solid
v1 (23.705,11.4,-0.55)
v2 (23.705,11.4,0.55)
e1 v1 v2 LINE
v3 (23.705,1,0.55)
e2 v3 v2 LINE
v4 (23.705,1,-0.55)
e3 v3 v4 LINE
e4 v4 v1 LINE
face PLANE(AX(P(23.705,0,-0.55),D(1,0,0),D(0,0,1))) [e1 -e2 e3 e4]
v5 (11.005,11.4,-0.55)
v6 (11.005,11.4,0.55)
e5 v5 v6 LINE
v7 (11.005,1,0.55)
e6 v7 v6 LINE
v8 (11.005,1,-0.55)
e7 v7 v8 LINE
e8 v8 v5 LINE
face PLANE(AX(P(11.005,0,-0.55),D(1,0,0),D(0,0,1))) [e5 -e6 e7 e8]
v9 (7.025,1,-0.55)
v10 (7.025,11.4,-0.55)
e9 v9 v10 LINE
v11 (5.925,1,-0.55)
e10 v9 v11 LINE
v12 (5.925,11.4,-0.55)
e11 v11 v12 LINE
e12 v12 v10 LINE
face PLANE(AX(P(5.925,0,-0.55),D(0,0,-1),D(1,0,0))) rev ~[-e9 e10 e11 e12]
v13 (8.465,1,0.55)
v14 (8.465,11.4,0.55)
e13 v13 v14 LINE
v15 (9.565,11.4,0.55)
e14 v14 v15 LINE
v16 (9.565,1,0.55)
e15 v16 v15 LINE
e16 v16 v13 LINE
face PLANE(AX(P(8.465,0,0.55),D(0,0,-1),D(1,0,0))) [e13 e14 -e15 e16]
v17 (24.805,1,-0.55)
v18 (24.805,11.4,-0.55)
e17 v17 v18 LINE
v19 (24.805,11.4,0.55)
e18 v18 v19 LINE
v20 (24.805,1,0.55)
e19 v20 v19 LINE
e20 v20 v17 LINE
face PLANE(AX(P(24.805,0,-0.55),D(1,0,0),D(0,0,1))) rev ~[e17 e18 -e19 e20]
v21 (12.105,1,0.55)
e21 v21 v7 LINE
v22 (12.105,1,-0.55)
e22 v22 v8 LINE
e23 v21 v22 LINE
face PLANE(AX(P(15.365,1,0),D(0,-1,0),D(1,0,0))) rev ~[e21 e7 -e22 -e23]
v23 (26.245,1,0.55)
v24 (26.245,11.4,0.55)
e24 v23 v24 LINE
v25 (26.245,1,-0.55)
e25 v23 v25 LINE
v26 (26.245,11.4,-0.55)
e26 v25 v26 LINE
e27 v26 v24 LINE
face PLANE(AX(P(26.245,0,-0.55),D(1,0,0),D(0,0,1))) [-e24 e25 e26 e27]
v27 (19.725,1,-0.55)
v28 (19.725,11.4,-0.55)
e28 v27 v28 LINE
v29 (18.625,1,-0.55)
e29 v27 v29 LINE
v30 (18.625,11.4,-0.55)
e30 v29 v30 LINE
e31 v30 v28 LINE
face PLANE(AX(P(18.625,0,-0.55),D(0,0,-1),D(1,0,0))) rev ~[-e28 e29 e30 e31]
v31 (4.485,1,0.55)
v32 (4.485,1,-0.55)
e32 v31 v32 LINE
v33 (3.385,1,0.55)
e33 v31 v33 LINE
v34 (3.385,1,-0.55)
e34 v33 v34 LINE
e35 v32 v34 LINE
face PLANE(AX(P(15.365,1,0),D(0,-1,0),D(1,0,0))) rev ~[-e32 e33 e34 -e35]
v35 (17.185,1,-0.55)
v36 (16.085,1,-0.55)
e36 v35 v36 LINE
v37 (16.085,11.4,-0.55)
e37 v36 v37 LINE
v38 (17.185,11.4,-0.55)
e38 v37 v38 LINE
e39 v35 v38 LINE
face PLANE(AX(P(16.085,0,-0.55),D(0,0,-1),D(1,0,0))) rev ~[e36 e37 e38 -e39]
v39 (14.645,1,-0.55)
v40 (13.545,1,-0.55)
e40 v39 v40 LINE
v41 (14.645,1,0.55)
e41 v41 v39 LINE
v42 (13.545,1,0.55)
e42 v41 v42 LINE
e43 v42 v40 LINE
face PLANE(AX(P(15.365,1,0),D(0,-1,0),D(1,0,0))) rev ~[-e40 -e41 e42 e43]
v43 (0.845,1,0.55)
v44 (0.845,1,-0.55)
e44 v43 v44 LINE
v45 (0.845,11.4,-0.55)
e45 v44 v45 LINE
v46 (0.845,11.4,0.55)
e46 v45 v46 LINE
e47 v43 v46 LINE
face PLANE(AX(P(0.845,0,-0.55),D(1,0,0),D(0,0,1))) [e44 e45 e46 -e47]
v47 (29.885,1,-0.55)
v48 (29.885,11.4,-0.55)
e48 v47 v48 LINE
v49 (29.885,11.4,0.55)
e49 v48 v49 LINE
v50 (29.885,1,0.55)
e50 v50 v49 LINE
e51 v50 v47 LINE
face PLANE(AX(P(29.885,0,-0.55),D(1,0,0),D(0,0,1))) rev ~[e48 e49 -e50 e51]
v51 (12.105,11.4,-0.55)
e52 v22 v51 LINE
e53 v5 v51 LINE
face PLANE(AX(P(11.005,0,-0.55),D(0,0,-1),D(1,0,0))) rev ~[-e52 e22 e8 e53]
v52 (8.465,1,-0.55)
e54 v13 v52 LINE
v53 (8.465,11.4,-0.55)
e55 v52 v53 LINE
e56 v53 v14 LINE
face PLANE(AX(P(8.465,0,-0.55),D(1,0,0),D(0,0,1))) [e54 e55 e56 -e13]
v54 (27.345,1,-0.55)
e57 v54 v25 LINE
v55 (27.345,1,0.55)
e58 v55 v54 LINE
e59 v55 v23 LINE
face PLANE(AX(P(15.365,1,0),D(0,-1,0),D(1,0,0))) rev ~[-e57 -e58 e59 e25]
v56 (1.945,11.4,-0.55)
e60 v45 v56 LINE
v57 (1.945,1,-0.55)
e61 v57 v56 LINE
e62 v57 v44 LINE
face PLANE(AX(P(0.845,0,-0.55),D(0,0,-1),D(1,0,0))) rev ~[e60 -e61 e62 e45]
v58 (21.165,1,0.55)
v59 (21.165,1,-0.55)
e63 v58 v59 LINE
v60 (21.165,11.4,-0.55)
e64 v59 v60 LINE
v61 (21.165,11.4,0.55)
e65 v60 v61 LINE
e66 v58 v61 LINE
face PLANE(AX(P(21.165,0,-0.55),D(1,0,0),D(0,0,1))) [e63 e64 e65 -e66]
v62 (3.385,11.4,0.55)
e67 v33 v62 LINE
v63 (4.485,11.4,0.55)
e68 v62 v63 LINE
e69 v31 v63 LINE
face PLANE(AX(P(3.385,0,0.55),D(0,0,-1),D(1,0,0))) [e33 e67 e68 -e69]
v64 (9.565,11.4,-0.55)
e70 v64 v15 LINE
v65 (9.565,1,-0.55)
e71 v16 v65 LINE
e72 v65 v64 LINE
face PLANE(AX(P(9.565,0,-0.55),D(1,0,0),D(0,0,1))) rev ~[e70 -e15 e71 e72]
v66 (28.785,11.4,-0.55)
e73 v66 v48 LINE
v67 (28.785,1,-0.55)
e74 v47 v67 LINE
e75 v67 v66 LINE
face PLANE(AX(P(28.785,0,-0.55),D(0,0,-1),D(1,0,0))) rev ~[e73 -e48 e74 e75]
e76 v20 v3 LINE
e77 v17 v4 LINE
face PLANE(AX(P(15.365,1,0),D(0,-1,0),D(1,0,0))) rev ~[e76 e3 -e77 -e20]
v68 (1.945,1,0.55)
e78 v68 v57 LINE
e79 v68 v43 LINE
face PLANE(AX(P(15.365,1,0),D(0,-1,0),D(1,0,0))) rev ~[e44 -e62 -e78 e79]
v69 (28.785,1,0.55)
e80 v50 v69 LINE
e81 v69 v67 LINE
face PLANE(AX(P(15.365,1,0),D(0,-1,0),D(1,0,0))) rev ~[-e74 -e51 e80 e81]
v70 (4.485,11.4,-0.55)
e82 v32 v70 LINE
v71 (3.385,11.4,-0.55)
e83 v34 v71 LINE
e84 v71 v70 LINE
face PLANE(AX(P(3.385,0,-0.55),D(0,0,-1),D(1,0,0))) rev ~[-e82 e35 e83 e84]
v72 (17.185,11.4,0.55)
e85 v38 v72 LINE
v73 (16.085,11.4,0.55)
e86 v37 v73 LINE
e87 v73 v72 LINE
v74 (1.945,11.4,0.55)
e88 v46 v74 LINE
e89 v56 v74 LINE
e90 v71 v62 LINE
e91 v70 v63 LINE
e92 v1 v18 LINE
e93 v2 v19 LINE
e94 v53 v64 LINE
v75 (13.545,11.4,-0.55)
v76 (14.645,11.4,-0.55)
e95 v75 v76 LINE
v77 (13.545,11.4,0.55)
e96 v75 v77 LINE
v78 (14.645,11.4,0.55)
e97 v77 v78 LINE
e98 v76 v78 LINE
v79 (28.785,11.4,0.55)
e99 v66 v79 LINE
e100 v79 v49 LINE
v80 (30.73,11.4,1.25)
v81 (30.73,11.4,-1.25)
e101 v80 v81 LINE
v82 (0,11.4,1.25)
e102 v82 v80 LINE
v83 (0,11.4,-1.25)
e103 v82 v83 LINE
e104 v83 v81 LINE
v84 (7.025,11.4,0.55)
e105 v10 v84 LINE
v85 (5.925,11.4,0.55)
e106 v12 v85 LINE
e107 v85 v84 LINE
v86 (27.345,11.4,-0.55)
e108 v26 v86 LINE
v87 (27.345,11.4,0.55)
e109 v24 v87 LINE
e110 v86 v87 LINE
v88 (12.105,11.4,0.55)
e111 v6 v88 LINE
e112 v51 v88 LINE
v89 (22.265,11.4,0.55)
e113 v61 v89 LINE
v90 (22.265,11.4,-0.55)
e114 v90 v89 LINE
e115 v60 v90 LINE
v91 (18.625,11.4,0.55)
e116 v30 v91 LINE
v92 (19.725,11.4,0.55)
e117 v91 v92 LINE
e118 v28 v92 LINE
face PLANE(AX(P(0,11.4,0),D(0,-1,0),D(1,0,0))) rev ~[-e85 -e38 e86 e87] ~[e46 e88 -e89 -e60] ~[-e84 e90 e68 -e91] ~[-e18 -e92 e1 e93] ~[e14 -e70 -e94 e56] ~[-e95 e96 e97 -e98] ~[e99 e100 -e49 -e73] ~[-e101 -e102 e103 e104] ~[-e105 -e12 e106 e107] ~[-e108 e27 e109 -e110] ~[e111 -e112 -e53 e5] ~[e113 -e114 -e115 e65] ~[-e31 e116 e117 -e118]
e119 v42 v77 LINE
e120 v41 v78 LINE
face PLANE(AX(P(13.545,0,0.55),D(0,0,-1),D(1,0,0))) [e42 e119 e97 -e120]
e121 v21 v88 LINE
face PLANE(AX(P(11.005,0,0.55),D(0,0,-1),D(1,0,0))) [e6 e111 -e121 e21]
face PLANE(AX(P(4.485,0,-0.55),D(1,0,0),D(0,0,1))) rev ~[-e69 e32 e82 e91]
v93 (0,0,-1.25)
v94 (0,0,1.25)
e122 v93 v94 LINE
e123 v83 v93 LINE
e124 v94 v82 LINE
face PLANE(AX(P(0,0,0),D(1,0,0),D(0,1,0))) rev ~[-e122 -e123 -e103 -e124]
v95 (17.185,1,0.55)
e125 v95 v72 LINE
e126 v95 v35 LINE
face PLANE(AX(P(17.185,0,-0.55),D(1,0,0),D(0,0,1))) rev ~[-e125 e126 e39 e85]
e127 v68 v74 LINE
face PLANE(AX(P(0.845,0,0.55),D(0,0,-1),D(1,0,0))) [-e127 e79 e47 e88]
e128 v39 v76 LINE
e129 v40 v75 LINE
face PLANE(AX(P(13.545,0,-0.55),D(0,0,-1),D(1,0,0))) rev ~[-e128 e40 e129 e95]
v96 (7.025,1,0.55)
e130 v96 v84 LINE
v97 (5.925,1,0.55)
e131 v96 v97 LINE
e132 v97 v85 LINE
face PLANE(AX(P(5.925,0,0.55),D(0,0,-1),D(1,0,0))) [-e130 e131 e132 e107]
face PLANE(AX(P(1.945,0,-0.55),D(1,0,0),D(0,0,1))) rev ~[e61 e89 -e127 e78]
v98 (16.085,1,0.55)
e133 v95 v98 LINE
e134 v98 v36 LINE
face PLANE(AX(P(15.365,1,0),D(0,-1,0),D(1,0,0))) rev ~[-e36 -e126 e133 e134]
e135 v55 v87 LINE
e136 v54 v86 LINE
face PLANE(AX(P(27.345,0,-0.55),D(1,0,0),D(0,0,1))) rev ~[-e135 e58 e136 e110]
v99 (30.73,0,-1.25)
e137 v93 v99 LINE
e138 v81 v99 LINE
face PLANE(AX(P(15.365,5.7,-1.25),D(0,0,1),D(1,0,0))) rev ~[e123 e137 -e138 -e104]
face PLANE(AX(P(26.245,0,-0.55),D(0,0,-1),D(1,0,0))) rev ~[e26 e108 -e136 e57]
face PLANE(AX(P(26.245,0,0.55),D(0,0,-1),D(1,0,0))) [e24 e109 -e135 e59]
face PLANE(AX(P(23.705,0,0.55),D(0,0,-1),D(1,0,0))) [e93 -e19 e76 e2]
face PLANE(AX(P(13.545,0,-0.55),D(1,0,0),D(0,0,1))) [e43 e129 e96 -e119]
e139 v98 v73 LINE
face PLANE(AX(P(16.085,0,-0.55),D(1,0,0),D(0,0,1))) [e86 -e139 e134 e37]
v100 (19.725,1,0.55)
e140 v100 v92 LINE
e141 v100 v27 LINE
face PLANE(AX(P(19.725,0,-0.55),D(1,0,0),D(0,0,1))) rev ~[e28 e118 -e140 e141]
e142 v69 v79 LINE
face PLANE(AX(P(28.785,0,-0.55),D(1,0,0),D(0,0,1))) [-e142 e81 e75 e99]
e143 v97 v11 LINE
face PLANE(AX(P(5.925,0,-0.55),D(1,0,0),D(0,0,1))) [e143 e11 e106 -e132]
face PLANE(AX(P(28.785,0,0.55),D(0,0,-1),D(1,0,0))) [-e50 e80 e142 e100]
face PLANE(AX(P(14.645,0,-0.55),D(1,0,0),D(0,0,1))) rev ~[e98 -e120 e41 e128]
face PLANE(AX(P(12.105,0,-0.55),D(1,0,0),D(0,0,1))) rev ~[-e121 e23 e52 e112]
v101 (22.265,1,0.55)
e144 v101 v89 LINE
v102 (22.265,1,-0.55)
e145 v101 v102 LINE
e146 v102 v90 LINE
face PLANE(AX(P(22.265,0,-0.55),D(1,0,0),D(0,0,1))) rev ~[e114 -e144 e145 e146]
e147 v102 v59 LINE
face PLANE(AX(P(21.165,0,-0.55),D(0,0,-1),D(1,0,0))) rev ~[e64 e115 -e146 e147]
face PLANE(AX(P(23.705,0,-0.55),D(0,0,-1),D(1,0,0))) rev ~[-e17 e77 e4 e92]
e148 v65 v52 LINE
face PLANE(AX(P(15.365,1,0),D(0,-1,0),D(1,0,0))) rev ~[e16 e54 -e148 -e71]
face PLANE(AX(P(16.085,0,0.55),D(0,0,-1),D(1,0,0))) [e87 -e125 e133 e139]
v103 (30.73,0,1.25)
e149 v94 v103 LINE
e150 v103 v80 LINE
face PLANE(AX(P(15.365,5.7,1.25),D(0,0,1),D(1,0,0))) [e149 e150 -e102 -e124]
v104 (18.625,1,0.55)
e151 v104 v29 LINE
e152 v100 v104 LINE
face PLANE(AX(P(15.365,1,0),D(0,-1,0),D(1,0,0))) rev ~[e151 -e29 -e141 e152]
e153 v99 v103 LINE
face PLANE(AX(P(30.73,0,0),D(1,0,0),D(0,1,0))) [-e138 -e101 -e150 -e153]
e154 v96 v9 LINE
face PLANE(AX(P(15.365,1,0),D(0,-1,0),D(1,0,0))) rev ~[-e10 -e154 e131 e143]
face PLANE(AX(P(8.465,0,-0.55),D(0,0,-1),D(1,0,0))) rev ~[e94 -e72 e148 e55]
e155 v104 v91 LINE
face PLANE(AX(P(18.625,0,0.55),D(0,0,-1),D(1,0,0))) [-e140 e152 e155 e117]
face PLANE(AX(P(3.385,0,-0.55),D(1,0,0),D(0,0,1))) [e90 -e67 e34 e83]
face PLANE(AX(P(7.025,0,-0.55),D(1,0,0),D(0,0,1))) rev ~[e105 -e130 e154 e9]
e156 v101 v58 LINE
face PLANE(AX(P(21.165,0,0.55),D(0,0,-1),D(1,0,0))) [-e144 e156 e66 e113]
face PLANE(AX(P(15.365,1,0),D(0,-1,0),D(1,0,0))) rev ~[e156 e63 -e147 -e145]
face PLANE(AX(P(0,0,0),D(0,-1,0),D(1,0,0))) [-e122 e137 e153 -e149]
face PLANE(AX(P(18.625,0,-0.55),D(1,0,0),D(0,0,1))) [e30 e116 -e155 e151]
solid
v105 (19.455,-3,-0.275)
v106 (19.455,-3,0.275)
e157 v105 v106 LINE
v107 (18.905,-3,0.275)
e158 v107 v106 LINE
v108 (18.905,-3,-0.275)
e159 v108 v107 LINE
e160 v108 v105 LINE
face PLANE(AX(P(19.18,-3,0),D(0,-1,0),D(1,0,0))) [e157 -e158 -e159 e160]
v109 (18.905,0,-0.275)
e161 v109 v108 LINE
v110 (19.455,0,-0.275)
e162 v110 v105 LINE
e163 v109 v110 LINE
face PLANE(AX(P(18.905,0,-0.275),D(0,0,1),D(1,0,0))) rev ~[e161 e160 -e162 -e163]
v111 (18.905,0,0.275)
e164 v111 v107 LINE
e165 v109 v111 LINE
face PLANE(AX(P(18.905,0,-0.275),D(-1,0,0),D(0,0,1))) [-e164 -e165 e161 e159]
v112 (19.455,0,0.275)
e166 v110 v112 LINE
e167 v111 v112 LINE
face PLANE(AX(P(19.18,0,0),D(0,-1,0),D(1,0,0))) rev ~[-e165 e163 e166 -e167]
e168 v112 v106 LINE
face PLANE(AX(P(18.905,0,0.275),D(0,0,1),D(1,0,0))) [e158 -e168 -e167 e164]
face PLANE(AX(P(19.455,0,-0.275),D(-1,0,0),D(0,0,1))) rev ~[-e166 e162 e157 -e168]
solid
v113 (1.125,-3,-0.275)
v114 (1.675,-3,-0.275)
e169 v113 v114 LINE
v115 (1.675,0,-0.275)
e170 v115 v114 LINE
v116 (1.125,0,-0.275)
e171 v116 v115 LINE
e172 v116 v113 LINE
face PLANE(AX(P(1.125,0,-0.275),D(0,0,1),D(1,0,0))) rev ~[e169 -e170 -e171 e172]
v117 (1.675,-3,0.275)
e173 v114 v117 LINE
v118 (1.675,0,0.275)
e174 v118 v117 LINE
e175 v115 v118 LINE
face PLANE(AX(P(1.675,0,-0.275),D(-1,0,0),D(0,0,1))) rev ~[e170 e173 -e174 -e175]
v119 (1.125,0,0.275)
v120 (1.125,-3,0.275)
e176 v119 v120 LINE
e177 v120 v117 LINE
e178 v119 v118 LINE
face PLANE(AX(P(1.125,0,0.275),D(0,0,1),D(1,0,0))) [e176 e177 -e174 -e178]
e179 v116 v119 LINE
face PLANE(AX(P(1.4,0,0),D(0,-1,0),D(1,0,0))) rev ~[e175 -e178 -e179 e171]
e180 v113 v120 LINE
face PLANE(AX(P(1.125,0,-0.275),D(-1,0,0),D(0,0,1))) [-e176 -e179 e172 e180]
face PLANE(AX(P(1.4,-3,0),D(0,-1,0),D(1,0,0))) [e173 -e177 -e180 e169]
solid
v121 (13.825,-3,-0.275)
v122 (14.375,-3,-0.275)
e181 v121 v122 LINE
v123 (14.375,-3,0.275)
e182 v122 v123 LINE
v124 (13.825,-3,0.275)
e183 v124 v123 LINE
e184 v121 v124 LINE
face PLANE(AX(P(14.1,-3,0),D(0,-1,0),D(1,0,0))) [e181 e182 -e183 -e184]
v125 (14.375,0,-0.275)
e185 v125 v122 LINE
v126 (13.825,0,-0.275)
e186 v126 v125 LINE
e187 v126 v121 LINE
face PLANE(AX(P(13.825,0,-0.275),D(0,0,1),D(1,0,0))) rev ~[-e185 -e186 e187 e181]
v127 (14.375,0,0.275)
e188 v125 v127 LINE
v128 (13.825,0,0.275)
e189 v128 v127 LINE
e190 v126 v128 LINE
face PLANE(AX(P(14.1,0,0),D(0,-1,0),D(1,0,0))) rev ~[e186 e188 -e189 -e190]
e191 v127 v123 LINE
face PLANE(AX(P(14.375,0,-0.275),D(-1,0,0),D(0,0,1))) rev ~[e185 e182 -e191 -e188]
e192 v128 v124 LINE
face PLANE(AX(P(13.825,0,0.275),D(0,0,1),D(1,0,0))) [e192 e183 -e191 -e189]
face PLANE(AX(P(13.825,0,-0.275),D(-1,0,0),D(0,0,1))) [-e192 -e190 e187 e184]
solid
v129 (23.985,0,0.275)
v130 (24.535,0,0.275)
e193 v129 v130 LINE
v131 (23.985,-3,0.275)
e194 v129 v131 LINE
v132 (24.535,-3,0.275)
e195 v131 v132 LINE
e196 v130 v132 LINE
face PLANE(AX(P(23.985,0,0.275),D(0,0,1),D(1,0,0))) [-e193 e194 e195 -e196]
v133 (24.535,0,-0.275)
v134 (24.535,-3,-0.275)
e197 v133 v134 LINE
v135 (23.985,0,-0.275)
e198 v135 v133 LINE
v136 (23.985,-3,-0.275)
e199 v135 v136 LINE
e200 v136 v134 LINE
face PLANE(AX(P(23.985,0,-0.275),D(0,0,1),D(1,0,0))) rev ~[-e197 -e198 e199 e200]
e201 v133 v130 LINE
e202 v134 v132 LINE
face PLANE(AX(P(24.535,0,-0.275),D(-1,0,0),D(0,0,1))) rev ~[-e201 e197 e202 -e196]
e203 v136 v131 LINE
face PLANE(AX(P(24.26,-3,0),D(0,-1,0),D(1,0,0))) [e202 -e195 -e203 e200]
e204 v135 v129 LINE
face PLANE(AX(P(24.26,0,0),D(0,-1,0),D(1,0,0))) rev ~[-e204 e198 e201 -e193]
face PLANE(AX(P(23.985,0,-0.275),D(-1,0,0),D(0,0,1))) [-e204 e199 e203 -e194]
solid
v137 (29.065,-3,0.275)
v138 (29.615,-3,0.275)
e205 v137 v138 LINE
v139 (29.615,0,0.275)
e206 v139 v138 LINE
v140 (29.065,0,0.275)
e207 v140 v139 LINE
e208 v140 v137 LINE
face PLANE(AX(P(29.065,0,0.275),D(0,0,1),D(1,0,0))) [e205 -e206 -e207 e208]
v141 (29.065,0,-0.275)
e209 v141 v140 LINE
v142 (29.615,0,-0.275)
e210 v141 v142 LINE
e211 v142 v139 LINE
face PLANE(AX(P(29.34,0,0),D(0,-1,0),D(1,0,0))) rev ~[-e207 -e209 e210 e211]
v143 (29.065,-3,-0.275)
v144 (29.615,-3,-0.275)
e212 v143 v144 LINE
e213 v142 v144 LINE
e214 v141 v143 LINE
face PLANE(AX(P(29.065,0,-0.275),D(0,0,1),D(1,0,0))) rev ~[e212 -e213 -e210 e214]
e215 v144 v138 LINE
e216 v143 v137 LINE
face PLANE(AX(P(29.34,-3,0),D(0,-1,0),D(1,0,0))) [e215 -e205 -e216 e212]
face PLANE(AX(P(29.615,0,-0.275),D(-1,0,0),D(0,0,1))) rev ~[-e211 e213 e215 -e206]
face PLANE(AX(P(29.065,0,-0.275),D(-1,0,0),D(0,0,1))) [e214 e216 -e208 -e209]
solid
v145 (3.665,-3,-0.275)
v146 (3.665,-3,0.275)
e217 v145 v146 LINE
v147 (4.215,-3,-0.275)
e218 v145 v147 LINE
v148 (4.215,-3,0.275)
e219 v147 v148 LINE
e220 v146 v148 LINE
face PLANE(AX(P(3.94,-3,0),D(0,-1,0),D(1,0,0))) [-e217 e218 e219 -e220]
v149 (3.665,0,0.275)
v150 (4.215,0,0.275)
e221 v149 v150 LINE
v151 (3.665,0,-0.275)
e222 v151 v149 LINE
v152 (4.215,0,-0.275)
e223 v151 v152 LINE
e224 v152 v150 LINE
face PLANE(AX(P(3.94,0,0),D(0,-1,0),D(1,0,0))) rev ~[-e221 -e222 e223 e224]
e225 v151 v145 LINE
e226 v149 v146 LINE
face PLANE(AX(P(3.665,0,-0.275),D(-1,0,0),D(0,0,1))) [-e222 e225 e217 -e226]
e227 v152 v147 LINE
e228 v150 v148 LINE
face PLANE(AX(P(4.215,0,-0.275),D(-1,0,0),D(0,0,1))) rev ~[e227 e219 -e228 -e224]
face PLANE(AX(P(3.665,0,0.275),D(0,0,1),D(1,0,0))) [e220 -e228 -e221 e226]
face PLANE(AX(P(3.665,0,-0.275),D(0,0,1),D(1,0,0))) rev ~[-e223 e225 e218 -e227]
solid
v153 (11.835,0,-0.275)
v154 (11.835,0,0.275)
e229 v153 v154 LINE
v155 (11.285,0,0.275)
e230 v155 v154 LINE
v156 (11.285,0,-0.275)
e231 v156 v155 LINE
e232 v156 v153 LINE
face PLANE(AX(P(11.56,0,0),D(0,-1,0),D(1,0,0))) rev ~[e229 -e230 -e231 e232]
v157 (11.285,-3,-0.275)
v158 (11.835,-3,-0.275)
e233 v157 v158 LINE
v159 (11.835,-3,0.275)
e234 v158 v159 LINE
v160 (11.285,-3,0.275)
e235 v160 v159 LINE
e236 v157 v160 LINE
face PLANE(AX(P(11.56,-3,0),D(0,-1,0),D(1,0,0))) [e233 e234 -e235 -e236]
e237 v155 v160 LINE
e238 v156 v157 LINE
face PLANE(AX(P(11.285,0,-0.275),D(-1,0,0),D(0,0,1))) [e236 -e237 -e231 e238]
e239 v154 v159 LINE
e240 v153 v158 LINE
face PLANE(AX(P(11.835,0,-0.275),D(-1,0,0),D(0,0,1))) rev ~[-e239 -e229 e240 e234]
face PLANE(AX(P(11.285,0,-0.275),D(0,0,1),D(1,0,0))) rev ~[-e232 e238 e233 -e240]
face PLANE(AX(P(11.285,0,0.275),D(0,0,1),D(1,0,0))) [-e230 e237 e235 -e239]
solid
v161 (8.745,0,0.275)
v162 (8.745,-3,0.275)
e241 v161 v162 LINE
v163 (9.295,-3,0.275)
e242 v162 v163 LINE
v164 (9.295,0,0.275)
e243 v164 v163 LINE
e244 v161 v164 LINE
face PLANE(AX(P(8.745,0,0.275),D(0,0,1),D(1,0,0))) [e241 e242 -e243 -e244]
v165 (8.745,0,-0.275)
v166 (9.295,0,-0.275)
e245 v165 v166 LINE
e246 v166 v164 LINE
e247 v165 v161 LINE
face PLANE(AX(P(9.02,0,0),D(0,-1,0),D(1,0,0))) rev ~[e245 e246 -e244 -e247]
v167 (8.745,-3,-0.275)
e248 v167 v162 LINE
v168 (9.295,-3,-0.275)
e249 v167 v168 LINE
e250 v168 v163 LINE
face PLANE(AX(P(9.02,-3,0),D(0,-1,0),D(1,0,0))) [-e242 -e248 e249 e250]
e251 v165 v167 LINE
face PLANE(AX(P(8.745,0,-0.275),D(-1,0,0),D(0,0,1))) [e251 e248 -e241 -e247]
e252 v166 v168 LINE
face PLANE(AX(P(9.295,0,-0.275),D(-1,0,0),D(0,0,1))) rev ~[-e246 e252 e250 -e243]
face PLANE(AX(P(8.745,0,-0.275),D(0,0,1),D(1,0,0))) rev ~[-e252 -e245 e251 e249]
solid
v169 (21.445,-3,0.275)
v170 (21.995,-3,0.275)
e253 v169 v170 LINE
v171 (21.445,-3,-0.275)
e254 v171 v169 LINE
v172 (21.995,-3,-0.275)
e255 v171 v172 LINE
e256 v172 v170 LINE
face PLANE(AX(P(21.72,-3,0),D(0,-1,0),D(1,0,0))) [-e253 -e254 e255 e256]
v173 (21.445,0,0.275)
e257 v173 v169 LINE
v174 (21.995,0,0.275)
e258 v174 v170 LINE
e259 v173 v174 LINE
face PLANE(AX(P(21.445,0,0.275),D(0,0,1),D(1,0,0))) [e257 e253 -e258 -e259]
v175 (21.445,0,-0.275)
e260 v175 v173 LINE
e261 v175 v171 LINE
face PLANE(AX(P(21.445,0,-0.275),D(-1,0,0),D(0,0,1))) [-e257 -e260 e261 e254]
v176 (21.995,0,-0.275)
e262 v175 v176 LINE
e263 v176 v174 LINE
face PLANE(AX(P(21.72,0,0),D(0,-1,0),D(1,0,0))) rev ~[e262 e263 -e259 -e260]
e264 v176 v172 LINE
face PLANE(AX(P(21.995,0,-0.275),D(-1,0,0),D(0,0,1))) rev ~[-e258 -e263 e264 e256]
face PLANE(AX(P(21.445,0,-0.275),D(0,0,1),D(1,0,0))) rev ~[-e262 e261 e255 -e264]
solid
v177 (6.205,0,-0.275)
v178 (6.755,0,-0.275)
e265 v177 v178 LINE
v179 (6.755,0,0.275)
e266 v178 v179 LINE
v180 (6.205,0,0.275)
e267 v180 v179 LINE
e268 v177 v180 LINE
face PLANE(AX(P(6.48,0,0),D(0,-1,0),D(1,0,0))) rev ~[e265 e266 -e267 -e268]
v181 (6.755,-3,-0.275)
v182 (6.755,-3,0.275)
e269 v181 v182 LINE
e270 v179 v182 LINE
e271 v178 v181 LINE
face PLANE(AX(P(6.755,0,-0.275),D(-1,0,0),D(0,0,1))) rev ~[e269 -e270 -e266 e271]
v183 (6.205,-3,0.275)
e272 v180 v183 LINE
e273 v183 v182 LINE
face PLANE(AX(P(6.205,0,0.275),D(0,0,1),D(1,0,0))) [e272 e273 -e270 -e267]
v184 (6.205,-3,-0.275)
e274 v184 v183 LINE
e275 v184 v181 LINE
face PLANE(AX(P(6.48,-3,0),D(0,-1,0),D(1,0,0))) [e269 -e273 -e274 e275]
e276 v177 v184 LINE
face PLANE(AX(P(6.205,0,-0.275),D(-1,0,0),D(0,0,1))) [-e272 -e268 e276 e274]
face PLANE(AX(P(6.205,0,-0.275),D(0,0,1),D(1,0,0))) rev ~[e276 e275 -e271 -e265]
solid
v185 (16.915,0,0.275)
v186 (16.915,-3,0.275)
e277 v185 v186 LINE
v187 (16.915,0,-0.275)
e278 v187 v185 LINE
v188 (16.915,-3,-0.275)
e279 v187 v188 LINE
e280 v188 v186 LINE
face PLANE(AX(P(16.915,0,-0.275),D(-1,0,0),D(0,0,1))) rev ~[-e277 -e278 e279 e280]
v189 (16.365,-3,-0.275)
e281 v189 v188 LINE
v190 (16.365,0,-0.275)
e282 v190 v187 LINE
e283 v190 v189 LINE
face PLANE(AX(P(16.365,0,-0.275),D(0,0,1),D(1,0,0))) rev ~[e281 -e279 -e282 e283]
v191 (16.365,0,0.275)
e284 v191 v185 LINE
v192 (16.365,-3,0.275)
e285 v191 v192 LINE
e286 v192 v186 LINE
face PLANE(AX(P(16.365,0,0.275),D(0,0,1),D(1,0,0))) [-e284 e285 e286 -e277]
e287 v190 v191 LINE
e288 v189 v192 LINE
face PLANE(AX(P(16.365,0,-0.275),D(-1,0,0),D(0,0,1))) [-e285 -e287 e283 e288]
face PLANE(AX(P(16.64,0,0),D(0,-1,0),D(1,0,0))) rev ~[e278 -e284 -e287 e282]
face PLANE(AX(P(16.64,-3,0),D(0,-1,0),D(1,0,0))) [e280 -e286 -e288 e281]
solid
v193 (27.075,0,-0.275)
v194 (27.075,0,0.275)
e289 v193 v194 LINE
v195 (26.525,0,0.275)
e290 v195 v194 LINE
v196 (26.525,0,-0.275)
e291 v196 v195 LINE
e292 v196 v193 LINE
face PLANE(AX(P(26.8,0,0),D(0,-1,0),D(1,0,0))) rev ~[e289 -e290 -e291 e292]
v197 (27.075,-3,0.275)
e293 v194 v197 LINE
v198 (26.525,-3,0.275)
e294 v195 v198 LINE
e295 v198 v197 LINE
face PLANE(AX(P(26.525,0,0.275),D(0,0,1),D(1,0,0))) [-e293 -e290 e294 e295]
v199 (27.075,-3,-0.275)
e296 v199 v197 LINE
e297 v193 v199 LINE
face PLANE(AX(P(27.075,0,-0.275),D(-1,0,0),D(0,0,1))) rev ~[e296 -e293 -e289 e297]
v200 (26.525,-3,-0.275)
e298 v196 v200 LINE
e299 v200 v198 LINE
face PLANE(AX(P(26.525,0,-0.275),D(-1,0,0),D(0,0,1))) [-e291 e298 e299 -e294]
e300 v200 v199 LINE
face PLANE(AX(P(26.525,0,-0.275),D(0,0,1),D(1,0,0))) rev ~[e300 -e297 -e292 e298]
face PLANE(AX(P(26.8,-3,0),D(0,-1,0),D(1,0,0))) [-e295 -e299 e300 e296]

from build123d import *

# Parameters (mm, degrees)
SKETCH1_W              = 30.73
SKETCH1_H              = 11.4
BOSS_EXTRUDE1_DEPTH    = 1.25
SKETCH2_W              = 1.1
SKETCH2_H              = 1.1
CUT_EXTRUDE1_DEPTH     = 12.4
SKETCH3_W              = 30.73
SKETCH3_H              = 2.5
BOSS_EXTRUDE2_DEPTH    = 1
SKETCH4_W              = 0.55
SKETCH4_H              = 0.55
BOSS_EXTRUDE3_DEPTH    = 3
BOSS_EXTRUDE3_2_DEPTH  = 3
BOSS_EXTRUDE3_3_DEPTH  = 3
BOSS_EXTRUDE3_4_DEPTH  = 3
BOSS_EXTRUDE3_5_DEPTH  = 3
BOSS_EXTRUDE3_6_DEPTH  = 3
BOSS_EXTRUDE3_7_DEPTH  = 3
BOSS_EXTRUDE3_8_DEPTH  = 3
BOSS_EXTRUDE3_9_DEPTH  = 3
BOSS_EXTRUDE3_10_DEPTH = 3
BOSS_EXTRUDE3_11_DEPTH = 3
BOSS_EXTRUDE3_12_DEPTH = 3


with BuildPart() as part:
    # Sketch1 → Boss-Extrude1 (new body, symmetric)
    with BuildSketch(Plane.XY):
        with Locations((15.365, 5.7)):
            Rectangle(SKETCH1_W, SKETCH1_H)
    extrude(amount=BOSS_EXTRUDE1_DEPTH, both=True)

    # Sketch2 → Cut-Extrude1 (cut, through all)
    with BuildSketch(Plane.XZ):
        with Locations((3.935, 0)):
            Rectangle(SKETCH2_W, SKETCH2_H)
        with Locations((1.395, 0)):
            Rectangle(SKETCH2_W, SKETCH2_H)
        with Locations((6.475, 0)):
            Rectangle(SKETCH2_W, SKETCH2_H)
        with Locations((9.015, 0)):
            Rectangle(SKETCH2_W, SKETCH2_H)
        with Locations((11.555, 0)):
            Rectangle(SKETCH2_W, SKETCH2_H)
        with Locations((14.095, 0)):
            Rectangle(SKETCH2_W, SKETCH2_H)
        with Locations((16.635, 0)):
            Rectangle(SKETCH2_W, SKETCH2_H)
        with Locations((19.175, 0)):
            Rectangle(SKETCH2_W, SKETCH2_H)
        with Locations((21.715, 0)):
            Rectangle(SKETCH2_W, SKETCH2_H)
        with Locations((24.255, 0)):
            Rectangle(SKETCH2_W, SKETCH2_H)
        with Locations((26.795, 0)):
            Rectangle(SKETCH2_W, SKETCH2_H)
        with Locations((29.335, 0)):
            Rectangle(SKETCH2_W, SKETCH2_H)
    extrude(amount=-CUT_EXTRUDE1_DEPTH, mode=Mode.SUBTRACT)

    # Sketch3 → Boss-Extrude2 (add)
    with BuildSketch(Plane.XZ):
        with Locations((15.365, 0)):
            Rectangle(SKETCH3_W, SKETCH3_H)
    extrude(amount=-BOSS_EXTRUDE2_DEPTH)


with BuildPart() as body_2:
    # Sketch4 → Boss-Extrude3 (new body)
    with BuildSketch(Plane.XZ):
        with Locations((1.4, 0)):
            Rectangle(SKETCH4_W, SKETCH4_H)
    extrude(amount=BOSS_EXTRUDE3_DEPTH)


with BuildPart() as body_3:
    # Sketch4 → Boss-Extrude3 2 (new body)
    with BuildSketch(Plane.XZ):
        with Locations((3.94, 0)):
            Rectangle(SKETCH4_W, SKETCH4_H)
    extrude(amount=BOSS_EXTRUDE3_2_DEPTH)


with BuildPart() as body_4:
    # Sketch4 → Boss-Extrude3 3 (new body)
    with BuildSketch(Plane.XZ):
        with Locations((6.48, 0)):
            Rectangle(SKETCH4_W, SKETCH4_H)
    extrude(amount=BOSS_EXTRUDE3_3_DEPTH)


with BuildPart() as body_5:
    # Sketch4 → Boss-Extrude3 4 (new body)
    with BuildSketch(Plane.XZ):
        with Locations((9.02, 0)):
            Rectangle(SKETCH4_W, SKETCH4_H)
    extrude(amount=BOSS_EXTRUDE3_4_DEPTH)


with BuildPart() as body_6:
    # Sketch4 → Boss-Extrude3 5 (new body)
    with BuildSketch(Plane.XZ):
        with Locations((11.56, 0)):
            Rectangle(SKETCH4_W, SKETCH4_H)
    extrude(amount=BOSS_EXTRUDE3_5_DEPTH)


with BuildPart() as body_7:
    # Sketch4 → Boss-Extrude3 6 (new body)
    with BuildSketch(Plane.XZ):
        with Locations((14.1, 0)):
            Rectangle(SKETCH4_W, SKETCH4_H)
    extrude(amount=BOSS_EXTRUDE3_6_DEPTH)


with BuildPart() as body_8:
    # Sketch4 → Boss-Extrude3 7 (new body)
    with BuildSketch(Plane.XZ):
        with Locations((16.64, 0)):
            Rectangle(SKETCH4_W, SKETCH4_H)
    extrude(amount=BOSS_EXTRUDE3_7_DEPTH)


with BuildPart() as body_9:
    # Sketch4 → Boss-Extrude3 8 (new body)
    with BuildSketch(Plane.XZ):
        with Locations((19.18, 0)):
            Rectangle(SKETCH4_W, SKETCH4_H)
    extrude(amount=BOSS_EXTRUDE3_8_DEPTH)


with BuildPart() as body_10:
    # Sketch4 → Boss-Extrude3 9 (new body)
    with BuildSketch(Plane.XZ):
        with Locations((21.72, 0)):
            Rectangle(SKETCH4_W, SKETCH4_H)
    extrude(amount=BOSS_EXTRUDE3_9_DEPTH)


with BuildPart() as body_11:
    # Sketch4 → Boss-Extrude3 10 (new body)
    with BuildSketch(Plane.XZ):
        with Locations((24.26, 0)):
            Rectangle(SKETCH4_W, SKETCH4_H)
    extrude(amount=BOSS_EXTRUDE3_10_DEPTH)


with BuildPart() as body_12:
    # Sketch4 → Boss-Extrude3 11 (new body)
    with BuildSketch(Plane.XZ):
        with Locations((26.8, 0)):
            Rectangle(SKETCH4_W, SKETCH4_H)
    extrude(amount=BOSS_EXTRUDE3_11_DEPTH)


with BuildPart() as body_13:
    # Sketch4 → Boss-Extrude3 12 (new body)
    with BuildSketch(Plane.XZ):
        with Locations((29.34, 0)):
            Rectangle(SKETCH4_W, SKETCH4_H)
    extrude(amount=BOSS_EXTRUDE3_12_DEPTH)


solid = Compound([part.part, body_2.part, body_3.part, body_4.part, body_5.part, body_6.part, body_7.part, body_8.part, body_9.part, body_10.part, body_11.part, body_12.part, body_13.part])
